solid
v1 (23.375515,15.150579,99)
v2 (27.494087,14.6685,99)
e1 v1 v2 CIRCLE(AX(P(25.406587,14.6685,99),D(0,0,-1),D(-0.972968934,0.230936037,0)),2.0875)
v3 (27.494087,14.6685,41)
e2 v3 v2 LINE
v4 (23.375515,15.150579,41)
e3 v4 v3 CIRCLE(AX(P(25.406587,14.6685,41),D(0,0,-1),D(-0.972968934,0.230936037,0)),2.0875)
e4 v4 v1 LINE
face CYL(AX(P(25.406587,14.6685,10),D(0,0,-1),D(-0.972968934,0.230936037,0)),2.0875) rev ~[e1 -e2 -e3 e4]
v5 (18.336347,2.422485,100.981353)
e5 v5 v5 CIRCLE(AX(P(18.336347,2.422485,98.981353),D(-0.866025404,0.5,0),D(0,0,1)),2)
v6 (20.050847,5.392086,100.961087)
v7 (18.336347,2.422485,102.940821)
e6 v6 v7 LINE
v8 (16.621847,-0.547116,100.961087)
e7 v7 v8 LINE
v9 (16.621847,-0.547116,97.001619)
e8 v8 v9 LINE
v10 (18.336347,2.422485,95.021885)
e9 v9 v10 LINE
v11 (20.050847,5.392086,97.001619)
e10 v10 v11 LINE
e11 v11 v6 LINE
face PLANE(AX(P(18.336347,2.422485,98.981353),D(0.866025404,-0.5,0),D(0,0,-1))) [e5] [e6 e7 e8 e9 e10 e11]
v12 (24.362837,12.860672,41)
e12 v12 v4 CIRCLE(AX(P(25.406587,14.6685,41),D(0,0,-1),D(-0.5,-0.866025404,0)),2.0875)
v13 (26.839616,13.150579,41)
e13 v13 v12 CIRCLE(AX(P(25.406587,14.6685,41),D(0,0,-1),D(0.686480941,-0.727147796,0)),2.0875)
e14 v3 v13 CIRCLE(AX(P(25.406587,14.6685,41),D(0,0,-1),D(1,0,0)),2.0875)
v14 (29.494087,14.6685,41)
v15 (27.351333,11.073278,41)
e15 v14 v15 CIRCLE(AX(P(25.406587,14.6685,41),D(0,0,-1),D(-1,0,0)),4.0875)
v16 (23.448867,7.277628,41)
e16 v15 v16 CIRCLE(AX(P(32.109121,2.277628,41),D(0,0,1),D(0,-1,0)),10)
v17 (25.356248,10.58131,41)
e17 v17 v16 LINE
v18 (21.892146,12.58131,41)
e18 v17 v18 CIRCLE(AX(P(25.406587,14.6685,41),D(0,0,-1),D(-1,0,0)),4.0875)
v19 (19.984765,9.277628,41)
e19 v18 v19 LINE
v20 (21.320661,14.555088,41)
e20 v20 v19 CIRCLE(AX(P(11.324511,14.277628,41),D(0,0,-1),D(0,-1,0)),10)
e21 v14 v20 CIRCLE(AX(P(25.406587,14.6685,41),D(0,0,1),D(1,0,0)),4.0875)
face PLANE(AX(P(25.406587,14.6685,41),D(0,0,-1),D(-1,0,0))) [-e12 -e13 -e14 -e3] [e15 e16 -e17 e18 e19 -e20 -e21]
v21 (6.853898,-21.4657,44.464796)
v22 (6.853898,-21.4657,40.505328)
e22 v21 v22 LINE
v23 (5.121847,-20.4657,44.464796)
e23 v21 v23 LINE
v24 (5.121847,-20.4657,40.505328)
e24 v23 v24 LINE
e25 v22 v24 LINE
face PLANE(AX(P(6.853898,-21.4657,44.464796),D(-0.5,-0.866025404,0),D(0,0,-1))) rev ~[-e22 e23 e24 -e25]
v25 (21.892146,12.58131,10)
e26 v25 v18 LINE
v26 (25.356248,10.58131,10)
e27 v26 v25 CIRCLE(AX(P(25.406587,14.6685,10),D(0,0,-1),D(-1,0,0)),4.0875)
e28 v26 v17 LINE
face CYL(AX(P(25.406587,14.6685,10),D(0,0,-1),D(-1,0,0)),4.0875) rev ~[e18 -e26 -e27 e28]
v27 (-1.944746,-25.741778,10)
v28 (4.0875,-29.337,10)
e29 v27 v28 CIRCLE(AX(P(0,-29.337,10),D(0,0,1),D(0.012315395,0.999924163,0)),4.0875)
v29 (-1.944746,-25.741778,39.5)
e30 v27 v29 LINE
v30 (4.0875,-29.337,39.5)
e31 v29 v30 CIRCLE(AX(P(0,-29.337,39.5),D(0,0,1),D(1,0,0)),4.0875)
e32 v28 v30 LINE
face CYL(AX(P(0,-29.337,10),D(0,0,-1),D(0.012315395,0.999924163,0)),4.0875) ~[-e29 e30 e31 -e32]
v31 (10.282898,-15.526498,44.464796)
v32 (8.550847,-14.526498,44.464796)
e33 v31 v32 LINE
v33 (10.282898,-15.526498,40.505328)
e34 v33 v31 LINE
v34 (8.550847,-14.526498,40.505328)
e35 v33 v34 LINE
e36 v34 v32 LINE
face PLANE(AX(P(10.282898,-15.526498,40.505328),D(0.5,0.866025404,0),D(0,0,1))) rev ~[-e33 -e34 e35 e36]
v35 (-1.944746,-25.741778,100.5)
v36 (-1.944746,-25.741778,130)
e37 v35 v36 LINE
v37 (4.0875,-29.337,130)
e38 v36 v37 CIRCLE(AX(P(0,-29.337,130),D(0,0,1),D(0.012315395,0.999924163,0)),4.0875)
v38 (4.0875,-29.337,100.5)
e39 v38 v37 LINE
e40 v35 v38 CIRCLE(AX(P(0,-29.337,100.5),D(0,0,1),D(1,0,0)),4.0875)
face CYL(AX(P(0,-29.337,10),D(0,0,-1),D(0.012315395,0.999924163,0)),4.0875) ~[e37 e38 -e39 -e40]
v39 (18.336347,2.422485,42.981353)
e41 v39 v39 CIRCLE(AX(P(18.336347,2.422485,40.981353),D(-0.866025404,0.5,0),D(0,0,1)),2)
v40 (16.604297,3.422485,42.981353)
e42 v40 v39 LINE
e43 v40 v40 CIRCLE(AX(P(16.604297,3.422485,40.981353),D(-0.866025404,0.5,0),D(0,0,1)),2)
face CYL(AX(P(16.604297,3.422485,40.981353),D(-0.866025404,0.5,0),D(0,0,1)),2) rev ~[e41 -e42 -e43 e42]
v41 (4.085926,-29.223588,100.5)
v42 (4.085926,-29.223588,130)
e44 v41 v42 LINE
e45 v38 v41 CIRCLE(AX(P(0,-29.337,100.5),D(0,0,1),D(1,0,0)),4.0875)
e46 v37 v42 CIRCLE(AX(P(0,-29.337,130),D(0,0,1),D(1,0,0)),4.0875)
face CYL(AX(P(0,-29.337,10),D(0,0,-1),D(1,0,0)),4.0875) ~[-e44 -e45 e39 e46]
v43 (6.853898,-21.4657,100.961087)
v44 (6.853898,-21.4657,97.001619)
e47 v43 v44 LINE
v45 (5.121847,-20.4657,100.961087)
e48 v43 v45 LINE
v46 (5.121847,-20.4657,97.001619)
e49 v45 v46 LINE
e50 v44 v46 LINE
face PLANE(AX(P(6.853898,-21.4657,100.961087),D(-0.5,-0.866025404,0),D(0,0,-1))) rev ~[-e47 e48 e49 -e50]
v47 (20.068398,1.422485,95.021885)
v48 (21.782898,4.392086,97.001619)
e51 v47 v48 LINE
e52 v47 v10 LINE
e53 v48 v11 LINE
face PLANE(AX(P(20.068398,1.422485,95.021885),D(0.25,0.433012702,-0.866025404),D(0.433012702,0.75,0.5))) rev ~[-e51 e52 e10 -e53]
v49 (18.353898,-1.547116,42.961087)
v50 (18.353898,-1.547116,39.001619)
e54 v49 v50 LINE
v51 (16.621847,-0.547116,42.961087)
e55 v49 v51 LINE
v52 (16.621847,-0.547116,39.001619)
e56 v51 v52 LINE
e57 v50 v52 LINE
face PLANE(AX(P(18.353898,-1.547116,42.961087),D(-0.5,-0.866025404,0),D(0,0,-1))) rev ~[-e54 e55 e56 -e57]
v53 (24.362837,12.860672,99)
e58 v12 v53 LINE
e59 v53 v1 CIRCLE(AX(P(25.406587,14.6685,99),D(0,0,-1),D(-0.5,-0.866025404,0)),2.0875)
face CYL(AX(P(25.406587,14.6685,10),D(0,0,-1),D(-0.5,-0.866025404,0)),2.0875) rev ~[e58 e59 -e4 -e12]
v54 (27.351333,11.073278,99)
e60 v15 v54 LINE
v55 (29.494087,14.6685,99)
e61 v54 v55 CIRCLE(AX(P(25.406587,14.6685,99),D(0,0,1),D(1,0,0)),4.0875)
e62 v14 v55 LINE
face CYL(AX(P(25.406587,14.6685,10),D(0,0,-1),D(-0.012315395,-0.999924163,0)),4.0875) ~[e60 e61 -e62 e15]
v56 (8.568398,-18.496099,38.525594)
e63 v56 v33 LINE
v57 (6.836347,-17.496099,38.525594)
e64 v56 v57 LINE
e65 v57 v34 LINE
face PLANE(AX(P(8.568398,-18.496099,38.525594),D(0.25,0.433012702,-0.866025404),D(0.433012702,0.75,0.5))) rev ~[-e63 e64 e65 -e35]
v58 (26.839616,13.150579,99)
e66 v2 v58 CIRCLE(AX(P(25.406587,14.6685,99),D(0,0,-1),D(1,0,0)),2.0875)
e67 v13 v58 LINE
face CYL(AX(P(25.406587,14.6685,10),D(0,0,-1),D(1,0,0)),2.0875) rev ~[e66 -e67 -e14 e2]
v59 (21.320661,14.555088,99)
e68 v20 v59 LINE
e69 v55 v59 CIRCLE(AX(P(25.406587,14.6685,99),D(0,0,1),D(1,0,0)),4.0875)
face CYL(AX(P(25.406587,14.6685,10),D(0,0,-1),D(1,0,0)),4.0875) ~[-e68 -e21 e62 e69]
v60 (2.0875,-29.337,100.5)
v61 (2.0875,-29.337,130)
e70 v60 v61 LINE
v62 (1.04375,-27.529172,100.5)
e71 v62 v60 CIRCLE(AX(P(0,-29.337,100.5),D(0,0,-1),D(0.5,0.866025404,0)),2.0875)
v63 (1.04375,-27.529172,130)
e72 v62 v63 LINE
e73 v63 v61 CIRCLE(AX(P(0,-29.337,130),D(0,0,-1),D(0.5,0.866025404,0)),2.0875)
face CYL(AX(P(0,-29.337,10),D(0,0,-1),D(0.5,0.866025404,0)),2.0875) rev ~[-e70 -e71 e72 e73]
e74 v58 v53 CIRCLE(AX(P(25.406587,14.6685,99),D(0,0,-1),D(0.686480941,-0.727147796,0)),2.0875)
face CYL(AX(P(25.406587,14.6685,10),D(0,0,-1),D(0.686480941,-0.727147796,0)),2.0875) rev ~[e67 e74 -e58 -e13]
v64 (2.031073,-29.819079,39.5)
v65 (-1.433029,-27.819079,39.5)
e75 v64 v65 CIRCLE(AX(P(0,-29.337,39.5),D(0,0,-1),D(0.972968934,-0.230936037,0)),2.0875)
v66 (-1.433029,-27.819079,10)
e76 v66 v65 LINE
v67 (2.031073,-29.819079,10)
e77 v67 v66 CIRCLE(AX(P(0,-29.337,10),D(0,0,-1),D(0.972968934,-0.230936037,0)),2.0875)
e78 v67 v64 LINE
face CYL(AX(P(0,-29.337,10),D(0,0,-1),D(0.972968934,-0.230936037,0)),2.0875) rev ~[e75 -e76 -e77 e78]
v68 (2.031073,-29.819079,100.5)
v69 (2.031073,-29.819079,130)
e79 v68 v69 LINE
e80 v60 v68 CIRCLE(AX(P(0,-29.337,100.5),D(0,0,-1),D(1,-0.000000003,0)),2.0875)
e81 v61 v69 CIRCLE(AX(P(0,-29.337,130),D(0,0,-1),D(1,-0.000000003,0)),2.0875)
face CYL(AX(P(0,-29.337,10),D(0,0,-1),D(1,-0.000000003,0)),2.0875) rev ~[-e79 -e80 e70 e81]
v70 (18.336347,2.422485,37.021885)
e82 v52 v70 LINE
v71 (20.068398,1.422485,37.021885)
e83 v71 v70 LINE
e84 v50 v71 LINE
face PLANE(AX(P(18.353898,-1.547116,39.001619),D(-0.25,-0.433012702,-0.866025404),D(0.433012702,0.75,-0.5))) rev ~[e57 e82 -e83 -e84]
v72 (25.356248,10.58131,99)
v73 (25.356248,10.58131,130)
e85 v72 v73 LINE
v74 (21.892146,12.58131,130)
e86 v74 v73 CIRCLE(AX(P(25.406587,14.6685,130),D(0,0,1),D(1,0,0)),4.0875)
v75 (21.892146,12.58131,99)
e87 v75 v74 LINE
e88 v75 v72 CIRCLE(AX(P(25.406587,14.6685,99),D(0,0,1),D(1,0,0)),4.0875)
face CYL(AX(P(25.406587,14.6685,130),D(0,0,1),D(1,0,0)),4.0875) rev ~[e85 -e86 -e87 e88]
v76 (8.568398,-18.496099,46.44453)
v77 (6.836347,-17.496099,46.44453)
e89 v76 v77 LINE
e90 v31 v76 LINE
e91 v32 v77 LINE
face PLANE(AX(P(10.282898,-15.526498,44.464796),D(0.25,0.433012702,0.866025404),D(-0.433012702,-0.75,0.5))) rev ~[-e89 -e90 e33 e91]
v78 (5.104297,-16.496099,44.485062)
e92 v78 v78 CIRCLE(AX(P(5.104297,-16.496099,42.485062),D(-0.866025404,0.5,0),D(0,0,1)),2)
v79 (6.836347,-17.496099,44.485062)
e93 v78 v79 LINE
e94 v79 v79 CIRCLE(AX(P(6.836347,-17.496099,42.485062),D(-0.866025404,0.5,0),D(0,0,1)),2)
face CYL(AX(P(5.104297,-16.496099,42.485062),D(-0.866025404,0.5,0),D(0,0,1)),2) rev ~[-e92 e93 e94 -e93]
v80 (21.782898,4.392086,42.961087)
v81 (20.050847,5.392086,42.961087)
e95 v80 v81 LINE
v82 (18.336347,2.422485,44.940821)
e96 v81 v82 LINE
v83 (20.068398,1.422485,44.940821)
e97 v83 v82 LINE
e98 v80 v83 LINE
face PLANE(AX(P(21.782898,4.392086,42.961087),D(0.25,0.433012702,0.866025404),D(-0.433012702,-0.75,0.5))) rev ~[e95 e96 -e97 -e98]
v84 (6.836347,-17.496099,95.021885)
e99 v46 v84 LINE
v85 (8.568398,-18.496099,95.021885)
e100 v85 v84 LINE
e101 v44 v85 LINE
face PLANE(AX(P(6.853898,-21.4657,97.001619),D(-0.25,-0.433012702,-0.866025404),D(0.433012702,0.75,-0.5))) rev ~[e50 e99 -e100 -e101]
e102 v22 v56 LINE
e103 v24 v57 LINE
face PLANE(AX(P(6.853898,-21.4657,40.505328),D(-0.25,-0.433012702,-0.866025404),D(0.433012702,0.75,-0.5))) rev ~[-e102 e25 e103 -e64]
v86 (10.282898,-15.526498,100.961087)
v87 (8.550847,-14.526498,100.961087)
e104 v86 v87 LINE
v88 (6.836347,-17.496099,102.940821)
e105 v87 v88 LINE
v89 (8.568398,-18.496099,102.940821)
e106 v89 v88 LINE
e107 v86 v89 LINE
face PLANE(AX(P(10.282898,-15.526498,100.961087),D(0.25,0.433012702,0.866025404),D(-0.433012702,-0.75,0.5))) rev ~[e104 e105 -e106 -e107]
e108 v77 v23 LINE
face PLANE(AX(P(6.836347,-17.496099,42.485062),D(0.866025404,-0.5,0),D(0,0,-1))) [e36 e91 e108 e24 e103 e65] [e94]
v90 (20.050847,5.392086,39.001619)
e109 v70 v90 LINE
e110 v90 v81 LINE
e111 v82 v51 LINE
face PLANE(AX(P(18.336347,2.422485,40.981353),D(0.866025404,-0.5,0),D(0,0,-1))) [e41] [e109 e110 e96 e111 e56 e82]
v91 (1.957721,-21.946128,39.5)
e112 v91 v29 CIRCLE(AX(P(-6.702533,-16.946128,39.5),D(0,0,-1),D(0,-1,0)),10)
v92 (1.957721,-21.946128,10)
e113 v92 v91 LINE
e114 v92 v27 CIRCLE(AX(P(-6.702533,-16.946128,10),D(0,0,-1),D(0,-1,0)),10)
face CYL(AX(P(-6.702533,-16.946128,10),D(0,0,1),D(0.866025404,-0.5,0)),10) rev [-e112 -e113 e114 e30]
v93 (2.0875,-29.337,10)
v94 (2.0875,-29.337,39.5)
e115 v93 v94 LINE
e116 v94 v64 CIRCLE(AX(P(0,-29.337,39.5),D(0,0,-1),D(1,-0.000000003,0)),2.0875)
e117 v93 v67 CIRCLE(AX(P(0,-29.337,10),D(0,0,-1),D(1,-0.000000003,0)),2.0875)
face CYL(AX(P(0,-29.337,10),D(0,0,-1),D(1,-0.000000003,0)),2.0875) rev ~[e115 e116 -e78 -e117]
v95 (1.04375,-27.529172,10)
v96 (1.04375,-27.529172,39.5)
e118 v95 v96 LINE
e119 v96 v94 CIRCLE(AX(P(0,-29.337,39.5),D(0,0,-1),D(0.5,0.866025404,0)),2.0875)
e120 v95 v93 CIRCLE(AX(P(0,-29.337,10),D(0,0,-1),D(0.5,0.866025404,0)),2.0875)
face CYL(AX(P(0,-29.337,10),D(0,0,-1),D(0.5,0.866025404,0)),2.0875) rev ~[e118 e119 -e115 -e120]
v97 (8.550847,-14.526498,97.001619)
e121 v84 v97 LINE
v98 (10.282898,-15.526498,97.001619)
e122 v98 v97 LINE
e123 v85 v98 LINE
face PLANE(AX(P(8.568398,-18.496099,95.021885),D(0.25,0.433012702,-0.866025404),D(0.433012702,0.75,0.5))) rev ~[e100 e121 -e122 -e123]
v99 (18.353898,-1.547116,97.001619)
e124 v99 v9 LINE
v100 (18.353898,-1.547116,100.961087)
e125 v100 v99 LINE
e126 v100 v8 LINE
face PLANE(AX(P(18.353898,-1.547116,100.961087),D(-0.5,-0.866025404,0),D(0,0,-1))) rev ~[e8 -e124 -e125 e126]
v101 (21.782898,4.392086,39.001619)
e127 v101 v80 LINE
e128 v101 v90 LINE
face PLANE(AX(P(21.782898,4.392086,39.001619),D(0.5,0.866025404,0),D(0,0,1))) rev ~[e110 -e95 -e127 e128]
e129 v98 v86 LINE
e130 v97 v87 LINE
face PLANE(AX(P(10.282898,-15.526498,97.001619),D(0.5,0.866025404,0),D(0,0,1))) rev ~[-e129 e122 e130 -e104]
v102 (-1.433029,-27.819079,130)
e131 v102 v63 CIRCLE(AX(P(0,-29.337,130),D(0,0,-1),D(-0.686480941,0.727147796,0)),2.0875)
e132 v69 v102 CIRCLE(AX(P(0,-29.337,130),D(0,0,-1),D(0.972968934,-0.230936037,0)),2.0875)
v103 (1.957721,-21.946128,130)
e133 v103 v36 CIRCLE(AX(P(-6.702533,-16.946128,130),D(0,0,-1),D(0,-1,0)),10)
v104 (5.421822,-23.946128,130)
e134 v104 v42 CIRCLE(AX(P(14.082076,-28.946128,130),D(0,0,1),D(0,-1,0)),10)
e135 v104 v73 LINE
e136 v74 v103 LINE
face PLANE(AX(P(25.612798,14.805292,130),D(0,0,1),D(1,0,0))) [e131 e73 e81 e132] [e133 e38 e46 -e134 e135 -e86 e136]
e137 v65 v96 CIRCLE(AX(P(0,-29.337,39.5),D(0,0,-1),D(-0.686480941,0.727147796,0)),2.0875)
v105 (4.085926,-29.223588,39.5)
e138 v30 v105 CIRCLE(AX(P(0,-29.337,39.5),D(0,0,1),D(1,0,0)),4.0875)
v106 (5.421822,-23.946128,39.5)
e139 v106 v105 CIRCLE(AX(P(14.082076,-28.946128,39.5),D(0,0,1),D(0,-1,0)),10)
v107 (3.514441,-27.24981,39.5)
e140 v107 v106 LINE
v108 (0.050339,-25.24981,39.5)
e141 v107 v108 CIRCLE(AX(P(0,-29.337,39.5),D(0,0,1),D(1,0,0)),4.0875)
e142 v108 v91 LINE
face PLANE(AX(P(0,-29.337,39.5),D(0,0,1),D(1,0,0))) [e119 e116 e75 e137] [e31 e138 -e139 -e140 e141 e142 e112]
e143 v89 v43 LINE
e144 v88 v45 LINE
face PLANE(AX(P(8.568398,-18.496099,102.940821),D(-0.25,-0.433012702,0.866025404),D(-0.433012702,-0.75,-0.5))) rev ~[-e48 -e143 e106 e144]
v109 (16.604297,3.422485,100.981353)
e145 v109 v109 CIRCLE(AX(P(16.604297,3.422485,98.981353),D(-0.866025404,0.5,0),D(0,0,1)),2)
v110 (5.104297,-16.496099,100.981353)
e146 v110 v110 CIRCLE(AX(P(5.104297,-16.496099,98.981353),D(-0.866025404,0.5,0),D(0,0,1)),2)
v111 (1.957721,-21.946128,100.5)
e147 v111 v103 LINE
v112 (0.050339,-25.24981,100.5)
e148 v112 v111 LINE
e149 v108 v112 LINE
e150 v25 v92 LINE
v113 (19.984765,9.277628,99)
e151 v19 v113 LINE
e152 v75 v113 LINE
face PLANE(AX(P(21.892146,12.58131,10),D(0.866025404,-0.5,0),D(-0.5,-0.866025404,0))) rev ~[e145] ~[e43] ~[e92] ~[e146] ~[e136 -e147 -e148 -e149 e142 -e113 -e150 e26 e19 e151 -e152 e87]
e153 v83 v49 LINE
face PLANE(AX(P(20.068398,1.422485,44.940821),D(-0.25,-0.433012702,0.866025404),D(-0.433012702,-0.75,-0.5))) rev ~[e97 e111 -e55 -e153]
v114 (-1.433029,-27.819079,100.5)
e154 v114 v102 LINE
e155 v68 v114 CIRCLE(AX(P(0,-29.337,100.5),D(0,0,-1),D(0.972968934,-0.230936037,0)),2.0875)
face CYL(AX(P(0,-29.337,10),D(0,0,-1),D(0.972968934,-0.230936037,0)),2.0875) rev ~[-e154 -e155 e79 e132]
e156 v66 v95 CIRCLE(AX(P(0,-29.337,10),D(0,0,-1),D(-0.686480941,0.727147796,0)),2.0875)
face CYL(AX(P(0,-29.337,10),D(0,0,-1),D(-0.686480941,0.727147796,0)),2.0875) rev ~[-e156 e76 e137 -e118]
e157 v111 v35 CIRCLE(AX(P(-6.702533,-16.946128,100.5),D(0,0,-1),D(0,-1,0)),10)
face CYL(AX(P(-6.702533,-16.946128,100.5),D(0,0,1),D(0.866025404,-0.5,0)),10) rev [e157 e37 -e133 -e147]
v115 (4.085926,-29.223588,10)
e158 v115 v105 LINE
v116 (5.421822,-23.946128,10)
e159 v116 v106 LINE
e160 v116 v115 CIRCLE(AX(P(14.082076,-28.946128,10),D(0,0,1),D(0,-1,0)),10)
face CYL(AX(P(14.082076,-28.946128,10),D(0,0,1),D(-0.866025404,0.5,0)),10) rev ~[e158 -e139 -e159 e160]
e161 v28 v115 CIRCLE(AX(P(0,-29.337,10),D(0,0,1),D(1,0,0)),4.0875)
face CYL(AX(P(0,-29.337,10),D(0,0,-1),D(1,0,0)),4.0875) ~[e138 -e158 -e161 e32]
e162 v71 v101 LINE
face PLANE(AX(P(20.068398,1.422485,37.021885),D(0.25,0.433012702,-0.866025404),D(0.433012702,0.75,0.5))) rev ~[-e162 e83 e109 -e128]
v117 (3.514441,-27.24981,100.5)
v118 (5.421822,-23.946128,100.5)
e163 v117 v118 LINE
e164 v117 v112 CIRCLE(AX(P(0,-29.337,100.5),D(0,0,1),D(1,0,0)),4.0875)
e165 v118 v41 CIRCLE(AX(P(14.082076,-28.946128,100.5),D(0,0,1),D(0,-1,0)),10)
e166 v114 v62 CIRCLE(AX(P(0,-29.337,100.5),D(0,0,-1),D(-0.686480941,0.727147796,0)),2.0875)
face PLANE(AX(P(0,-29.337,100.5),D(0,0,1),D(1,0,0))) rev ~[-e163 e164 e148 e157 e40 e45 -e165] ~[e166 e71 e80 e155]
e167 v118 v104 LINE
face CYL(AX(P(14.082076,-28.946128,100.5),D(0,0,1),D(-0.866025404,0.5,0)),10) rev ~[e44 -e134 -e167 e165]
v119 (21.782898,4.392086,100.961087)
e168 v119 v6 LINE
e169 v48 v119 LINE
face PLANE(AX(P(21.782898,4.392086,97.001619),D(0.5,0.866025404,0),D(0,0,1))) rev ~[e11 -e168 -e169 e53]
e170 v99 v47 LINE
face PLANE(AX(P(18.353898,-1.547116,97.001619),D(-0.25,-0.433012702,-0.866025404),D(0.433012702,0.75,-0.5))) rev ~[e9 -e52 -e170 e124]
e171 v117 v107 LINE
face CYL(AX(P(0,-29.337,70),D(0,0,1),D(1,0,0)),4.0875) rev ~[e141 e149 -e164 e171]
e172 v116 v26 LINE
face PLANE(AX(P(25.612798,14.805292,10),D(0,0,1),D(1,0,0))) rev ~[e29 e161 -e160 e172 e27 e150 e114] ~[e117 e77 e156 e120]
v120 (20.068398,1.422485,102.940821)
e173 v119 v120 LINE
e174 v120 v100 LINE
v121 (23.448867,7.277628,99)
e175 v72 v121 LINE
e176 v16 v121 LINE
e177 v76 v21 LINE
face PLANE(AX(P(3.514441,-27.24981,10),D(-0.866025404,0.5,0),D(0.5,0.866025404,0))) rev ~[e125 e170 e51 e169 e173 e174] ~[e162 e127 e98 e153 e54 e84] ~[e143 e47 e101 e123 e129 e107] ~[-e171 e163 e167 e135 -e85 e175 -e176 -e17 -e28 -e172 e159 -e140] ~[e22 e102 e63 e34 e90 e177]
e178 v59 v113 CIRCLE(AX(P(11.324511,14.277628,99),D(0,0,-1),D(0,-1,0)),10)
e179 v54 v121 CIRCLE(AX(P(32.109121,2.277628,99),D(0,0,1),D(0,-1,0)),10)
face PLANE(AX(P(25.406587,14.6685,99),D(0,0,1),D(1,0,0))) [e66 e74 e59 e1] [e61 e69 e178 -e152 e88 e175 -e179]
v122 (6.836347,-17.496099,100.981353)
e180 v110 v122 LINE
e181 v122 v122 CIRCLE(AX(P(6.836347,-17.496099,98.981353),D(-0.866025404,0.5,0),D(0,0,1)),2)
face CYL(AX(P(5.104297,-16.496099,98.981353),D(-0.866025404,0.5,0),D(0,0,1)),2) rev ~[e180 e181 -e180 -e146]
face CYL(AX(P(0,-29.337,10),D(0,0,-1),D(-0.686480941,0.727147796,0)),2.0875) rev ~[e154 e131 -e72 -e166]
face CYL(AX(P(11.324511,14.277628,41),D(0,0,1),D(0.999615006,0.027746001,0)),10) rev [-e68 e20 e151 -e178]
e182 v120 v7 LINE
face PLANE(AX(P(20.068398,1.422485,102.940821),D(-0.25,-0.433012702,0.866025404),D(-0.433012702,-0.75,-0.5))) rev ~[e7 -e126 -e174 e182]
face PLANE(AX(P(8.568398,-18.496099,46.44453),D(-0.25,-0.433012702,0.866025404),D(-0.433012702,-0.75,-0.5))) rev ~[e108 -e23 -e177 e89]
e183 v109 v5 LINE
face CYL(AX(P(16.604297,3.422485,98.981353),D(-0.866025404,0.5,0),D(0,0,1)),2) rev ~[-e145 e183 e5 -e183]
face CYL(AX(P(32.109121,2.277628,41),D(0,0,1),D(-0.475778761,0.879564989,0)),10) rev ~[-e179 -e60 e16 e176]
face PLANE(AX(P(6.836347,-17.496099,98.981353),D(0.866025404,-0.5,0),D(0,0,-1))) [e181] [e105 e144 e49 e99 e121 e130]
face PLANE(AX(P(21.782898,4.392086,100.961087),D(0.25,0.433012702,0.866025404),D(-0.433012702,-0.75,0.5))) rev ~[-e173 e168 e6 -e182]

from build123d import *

# Parameters (mm, degrees)
SKETCH2_R               = 1.5875
BOSS_EXTRUDE1_DEPTH     = 10
BOSS_EXTRUDE2_DEPTH     = 120
SKETCH4_R               = 4.0875
CUT_EXTRUDE1_DEPTH      = 30.5
CUT_EXTRUDE1_DEPTH_BACK = 30.5
SKETCH5_R               = 4.0875
CUT_EXTRUDE2_DEPTH      = 31
SKETCH6_R               = 4.0875
CUT_EXTRUDE3_DEPTH      = 31
FILLET1_R               = 10
SKETCH7_R               = 2
CUT_EXTRUDE4_DEPTH      = 4
CUT_EXTRUDE5_DEPTH      = 2


with BuildPart() as part:
    # Sketch2 → Boss-Extrude1 (new body)
    with BuildSketch(Plane.XY):
        with BuildLine():
            Line((0, -27.7495), (0, 0))
            Line((0, 0), (38.1, 0))
            ThreePointArc((38.1, 0), (-26.940768363, 26.940768363), (0, -38.1))
            Line((0, -38.1), (0, -30.9245))
            ThreePointArc((0, -30.9245), (-1.5875, -29.337), (0, -27.7495))
        make_face()
        with Locations((-25.406587271, 14.6685)):
            Circle(SKETCH2_R, mode=Mode.SUBTRACT)
        with Locations((25.406587271, 14.6685)):
            Circle(SKETCH2_R, mode=Mode.SUBTRACT)
        with BuildLine():
            Line((38.1, 0), (0, 0))
            Line((0, 0), (0, -27.7495))
            ThreePointArc((0, -27.7495), (1.122532015, -28.214467985), (1.5875, -29.337))
            ThreePointArc((1.5875, -29.337), (1.122532015, -30.459532015), (0, -30.9245))
            Line((0, -30.9245), (0, -38.1))
            ThreePointArc((0, -38.1), (26.940768363, -26.940768363), (38.1, 0))
        make_face()
    extrude(amount=BOSS_EXTRUDE1_DEPTH)


with BuildPart() as body_2:
    # Sketch3 → Boss-Extrude2 (new body)
    with BuildSketch(Plane.XY.offset(10)):
        with BuildLine():
            ThreePointArc((29.494087271, 14.6685), (24.324372064, 18.610132466), (21.892146477, 12.581309985))
            Line((21.892146477, 12.581309985), (23.37551462, 15.150578976))
            ThreePointArc((23.37551462, 15.150578976), (25.649272347, 16.741845172), (27.494087271, 14.6685))
            ThreePointArc((27.494087271, 14.6685), (27.323499399, 13.841998855), (26.839616236, 13.150578976))
            Line((26.839616236, 13.150578976), (25.356248092, 10.581309985))
            ThreePointArc((25.356248092, 10.581309985), (28.279033516, 11.760457906), (29.494087271, 14.6685))
        make_face()
        with BuildLine():
            Line((24.362837271, 12.86067197), (23.362837271, 11.128621162))
            ThreePointArc((23.362837271, 11.128621162), (24.324372064, 10.726867534), (25.356248092, 10.581309985))
            Line((25.356248092, 10.581309985), (26.839616236, 13.150578976))
            ThreePointArc((26.839616236, 13.150578976), (25.649272347, 12.595154828), (24.362837271, 12.86067197))
        make_face()
        with BuildLine():
            ThreePointArc((21.892146477, 12.581309985), (22.534141026, 11.760457906), (23.362837271, 11.128621162))
            Line((23.362837271, 11.128621162), (24.362837271, 12.86067197))
            ThreePointArc((24.362837271, 12.86067197), (23.489675143, 13.841998855), (23.37551462, 15.150578976))
            Line((23.37551462, 15.150578976), (21.892146477, 12.581309985))
        make_face()
        with BuildLine():
            Line((23.362837271, 11.128621162), (2.04375, -25.797121162))
            ThreePointArc((2.04375, -25.797121162), (2.872446245, -26.428957906), (3.514440794, -27.249809985))
            Line((3.514440794, -27.249809985), (25.356248092, 10.581309985))
            ThreePointArc((25.356248092, 10.581309985), (24.324372064, 10.726867534), (23.362837271, 11.128621162))
        make_face()
        with BuildLine():
            ThreePointArc((0.050339179, -25.249809985), (1.082215206, -25.395367534), (2.04375, -25.797121162))
            Line((2.04375, -25.797121162), (23.362837271, 11.128621162))
            ThreePointArc((23.362837271, 11.128621162), (22.534141026, 11.760457906), (21.892146477, 12.581309985))
            Line((21.892146477, 12.581309985), (0.050339179, -25.249809985))
        make_face()
        with BuildLine():
            ThreePointArc((-1.433028965, -27.819078976), (-0.242685076, -27.263654828), (1.04375, -27.52917197))
            Line((1.04375, -27.52917197), (2.04375, -25.797121162))
            ThreePointArc((2.04375, -25.797121162), (1.082215206, -25.395367534), (0.050339179, -25.249809985))
            Line((0.050339179, -25.249809985), (-1.433028965, -27.819078976))
        make_face()
        with BuildLine():
            Line((2.04375, -25.797121162), (1.04375, -27.52917197))
            ThreePointArc((1.04375, -27.52917197), (1.80782803, -28.29325), (2.0875, -29.337))
            ThreePointArc((2.0875, -29.337), (2.073345172, -29.579685076), (2.03107265, -29.819078976))
            Line((2.03107265, -29.819078976), (3.514440794, -27.249809985))
            ThreePointArc((3.514440794, -27.249809985), (2.872446245, -26.428957906), (2.04375, -25.797121162))
        make_face()
        with BuildLine():
            ThreePointArc((2.03107265, -29.819078976), (-1.04375, -31.14482803), (-1.433028965, -27.819078976))
            Line((-1.433028965, -27.819078976), (0.050339179, -25.249809985))
            ThreePointArc((0.050339179, -25.249809985), (-2.908042094, -32.209446245), (4.0875, -29.337))
            ThreePointArc((4.0875, -29.337), (3.941632466, -28.254784794), (3.514440794, -27.249809985))
            Line((3.514440794, -27.249809985), (2.03107265, -29.819078976))
        make_face()
    extrude(amount=BOSS_EXTRUDE2_DEPTH)

    # Sketch4 → Cut-Extrude1 (cut, two sides)
    with BuildSketch(Plane.XY.offset(70)) as cut_extrude1_sk:
        with Locations((0, -29.337)):
            Circle(SKETCH4_R)
    extrude(amount=CUT_EXTRUDE1_DEPTH, mode=Mode.SUBTRACT)
    extrude(cut_extrude1_sk.sketch, amount=-CUT_EXTRUDE1_DEPTH_BACK, mode=Mode.SUBTRACT)

    # Sketch5 → Cut-Extrude2 (cut)
    with BuildSketch(Plane(origin=(0, 0, 10), x_dir=(-1, 0, 0), z_dir=(0, 0, -1))):
        with Locations((-25.406587271, 14.6685)):
            Circle(SKETCH5_R)
    extrude(amount=-CUT_EXTRUDE2_DEPTH, mode=Mode.SUBTRACT)

    # Sketch6 → Cut-Extrude3 (cut)
    with BuildSketch(Plane.XY.offset(130)):
        with Locations((25.406587271, 14.6685)):
            Circle(SKETCH6_R)
    extrude(amount=-CUT_EXTRUDE3_DEPTH, mode=Mode.SUBTRACT)

    # Fillet1
    fillet1_edges = [body_2.edges().sort_by_distance(p)[0] for p in [
        (0.050339179, -25.249809985, 115.25),
        (3.514440794, -27.249809985, 115.25),
        (0.050339179, -25.249809985, 24.75),
        (3.514440794, -27.249809985, 24.75),
        (21.892146477, 12.581309985, 70),
        (25.356248092, 10.581309985, 70),
    ]]
    fillet(fillet1_edges, radius=FILLET1_R)

    # Sketch7 → Cut-Extrude4 (cut)
    with BuildSketch(Plane(origin=(10.971242828, -6.33425, 0), x_dir=(0, 0, 1), z_dir=(-0.866025404, 0.5, 0))):
        with Locations((40.981352926, 11.266107412)):
            Circle(SKETCH7_R)
        with Locations((42.485061868, -11.733892588)):
            Circle(SKETCH7_R)
        with Locations((98.981352926, -11.733892588)):
            Circle(SKETCH7_R)
        with Locations((98.981352926, 11.266107412)):
            Circle(SKETCH7_R)
    extrude(amount=-CUT_EXTRUDE4_DEPTH, mode=Mode.SUBTRACT)

    # Sketch8 → Cut-Extrude5 (cut)
    with BuildSketch(Plane(origin=(14.435344443, -8.33425, 0), x_dir=(0, 0, -1), z_dir=(0.866025404, -0.5, 0))):
        Polygon((-37.02188478, 11.266107412), (-39.001618853, 14.695107412), (-42.961086999, 14.695107412), (-44.940821072, 11.266107412), (-42.961086999, 7.837107412), (-39.001618853, 7.837107412), align=None)
        Polygon((-38.525593722, -11.733892588), (-40.505327795, -8.304892588), (-44.464795941, -8.304892588), (-46.444530014, -11.733892588), (-44.464795941, -15.162892588), (-40.505327795, -15.162892588), align=None)
        Polygon((-95.02188478, 11.266107412), (-97.001618853, 14.695107412), (-100.961086999, 14.695107412), (-102.940821072, 11.266107412), (-100.961086999, 7.837107412), (-97.001618853, 7.837107412), align=None)
        Polygon((-95.02188478, -11.733892588), (-97.001618853, -8.304892588), (-100.961086999, -8.304892588), (-102.940821072, -11.733892588), (-100.961086999, -15.162892588), (-97.001618853, -15.162892588), align=None)
    extrude(amount=-CUT_EXTRUDE5_DEPTH, mode=Mode.SUBTRACT)


solid = body_2.part
